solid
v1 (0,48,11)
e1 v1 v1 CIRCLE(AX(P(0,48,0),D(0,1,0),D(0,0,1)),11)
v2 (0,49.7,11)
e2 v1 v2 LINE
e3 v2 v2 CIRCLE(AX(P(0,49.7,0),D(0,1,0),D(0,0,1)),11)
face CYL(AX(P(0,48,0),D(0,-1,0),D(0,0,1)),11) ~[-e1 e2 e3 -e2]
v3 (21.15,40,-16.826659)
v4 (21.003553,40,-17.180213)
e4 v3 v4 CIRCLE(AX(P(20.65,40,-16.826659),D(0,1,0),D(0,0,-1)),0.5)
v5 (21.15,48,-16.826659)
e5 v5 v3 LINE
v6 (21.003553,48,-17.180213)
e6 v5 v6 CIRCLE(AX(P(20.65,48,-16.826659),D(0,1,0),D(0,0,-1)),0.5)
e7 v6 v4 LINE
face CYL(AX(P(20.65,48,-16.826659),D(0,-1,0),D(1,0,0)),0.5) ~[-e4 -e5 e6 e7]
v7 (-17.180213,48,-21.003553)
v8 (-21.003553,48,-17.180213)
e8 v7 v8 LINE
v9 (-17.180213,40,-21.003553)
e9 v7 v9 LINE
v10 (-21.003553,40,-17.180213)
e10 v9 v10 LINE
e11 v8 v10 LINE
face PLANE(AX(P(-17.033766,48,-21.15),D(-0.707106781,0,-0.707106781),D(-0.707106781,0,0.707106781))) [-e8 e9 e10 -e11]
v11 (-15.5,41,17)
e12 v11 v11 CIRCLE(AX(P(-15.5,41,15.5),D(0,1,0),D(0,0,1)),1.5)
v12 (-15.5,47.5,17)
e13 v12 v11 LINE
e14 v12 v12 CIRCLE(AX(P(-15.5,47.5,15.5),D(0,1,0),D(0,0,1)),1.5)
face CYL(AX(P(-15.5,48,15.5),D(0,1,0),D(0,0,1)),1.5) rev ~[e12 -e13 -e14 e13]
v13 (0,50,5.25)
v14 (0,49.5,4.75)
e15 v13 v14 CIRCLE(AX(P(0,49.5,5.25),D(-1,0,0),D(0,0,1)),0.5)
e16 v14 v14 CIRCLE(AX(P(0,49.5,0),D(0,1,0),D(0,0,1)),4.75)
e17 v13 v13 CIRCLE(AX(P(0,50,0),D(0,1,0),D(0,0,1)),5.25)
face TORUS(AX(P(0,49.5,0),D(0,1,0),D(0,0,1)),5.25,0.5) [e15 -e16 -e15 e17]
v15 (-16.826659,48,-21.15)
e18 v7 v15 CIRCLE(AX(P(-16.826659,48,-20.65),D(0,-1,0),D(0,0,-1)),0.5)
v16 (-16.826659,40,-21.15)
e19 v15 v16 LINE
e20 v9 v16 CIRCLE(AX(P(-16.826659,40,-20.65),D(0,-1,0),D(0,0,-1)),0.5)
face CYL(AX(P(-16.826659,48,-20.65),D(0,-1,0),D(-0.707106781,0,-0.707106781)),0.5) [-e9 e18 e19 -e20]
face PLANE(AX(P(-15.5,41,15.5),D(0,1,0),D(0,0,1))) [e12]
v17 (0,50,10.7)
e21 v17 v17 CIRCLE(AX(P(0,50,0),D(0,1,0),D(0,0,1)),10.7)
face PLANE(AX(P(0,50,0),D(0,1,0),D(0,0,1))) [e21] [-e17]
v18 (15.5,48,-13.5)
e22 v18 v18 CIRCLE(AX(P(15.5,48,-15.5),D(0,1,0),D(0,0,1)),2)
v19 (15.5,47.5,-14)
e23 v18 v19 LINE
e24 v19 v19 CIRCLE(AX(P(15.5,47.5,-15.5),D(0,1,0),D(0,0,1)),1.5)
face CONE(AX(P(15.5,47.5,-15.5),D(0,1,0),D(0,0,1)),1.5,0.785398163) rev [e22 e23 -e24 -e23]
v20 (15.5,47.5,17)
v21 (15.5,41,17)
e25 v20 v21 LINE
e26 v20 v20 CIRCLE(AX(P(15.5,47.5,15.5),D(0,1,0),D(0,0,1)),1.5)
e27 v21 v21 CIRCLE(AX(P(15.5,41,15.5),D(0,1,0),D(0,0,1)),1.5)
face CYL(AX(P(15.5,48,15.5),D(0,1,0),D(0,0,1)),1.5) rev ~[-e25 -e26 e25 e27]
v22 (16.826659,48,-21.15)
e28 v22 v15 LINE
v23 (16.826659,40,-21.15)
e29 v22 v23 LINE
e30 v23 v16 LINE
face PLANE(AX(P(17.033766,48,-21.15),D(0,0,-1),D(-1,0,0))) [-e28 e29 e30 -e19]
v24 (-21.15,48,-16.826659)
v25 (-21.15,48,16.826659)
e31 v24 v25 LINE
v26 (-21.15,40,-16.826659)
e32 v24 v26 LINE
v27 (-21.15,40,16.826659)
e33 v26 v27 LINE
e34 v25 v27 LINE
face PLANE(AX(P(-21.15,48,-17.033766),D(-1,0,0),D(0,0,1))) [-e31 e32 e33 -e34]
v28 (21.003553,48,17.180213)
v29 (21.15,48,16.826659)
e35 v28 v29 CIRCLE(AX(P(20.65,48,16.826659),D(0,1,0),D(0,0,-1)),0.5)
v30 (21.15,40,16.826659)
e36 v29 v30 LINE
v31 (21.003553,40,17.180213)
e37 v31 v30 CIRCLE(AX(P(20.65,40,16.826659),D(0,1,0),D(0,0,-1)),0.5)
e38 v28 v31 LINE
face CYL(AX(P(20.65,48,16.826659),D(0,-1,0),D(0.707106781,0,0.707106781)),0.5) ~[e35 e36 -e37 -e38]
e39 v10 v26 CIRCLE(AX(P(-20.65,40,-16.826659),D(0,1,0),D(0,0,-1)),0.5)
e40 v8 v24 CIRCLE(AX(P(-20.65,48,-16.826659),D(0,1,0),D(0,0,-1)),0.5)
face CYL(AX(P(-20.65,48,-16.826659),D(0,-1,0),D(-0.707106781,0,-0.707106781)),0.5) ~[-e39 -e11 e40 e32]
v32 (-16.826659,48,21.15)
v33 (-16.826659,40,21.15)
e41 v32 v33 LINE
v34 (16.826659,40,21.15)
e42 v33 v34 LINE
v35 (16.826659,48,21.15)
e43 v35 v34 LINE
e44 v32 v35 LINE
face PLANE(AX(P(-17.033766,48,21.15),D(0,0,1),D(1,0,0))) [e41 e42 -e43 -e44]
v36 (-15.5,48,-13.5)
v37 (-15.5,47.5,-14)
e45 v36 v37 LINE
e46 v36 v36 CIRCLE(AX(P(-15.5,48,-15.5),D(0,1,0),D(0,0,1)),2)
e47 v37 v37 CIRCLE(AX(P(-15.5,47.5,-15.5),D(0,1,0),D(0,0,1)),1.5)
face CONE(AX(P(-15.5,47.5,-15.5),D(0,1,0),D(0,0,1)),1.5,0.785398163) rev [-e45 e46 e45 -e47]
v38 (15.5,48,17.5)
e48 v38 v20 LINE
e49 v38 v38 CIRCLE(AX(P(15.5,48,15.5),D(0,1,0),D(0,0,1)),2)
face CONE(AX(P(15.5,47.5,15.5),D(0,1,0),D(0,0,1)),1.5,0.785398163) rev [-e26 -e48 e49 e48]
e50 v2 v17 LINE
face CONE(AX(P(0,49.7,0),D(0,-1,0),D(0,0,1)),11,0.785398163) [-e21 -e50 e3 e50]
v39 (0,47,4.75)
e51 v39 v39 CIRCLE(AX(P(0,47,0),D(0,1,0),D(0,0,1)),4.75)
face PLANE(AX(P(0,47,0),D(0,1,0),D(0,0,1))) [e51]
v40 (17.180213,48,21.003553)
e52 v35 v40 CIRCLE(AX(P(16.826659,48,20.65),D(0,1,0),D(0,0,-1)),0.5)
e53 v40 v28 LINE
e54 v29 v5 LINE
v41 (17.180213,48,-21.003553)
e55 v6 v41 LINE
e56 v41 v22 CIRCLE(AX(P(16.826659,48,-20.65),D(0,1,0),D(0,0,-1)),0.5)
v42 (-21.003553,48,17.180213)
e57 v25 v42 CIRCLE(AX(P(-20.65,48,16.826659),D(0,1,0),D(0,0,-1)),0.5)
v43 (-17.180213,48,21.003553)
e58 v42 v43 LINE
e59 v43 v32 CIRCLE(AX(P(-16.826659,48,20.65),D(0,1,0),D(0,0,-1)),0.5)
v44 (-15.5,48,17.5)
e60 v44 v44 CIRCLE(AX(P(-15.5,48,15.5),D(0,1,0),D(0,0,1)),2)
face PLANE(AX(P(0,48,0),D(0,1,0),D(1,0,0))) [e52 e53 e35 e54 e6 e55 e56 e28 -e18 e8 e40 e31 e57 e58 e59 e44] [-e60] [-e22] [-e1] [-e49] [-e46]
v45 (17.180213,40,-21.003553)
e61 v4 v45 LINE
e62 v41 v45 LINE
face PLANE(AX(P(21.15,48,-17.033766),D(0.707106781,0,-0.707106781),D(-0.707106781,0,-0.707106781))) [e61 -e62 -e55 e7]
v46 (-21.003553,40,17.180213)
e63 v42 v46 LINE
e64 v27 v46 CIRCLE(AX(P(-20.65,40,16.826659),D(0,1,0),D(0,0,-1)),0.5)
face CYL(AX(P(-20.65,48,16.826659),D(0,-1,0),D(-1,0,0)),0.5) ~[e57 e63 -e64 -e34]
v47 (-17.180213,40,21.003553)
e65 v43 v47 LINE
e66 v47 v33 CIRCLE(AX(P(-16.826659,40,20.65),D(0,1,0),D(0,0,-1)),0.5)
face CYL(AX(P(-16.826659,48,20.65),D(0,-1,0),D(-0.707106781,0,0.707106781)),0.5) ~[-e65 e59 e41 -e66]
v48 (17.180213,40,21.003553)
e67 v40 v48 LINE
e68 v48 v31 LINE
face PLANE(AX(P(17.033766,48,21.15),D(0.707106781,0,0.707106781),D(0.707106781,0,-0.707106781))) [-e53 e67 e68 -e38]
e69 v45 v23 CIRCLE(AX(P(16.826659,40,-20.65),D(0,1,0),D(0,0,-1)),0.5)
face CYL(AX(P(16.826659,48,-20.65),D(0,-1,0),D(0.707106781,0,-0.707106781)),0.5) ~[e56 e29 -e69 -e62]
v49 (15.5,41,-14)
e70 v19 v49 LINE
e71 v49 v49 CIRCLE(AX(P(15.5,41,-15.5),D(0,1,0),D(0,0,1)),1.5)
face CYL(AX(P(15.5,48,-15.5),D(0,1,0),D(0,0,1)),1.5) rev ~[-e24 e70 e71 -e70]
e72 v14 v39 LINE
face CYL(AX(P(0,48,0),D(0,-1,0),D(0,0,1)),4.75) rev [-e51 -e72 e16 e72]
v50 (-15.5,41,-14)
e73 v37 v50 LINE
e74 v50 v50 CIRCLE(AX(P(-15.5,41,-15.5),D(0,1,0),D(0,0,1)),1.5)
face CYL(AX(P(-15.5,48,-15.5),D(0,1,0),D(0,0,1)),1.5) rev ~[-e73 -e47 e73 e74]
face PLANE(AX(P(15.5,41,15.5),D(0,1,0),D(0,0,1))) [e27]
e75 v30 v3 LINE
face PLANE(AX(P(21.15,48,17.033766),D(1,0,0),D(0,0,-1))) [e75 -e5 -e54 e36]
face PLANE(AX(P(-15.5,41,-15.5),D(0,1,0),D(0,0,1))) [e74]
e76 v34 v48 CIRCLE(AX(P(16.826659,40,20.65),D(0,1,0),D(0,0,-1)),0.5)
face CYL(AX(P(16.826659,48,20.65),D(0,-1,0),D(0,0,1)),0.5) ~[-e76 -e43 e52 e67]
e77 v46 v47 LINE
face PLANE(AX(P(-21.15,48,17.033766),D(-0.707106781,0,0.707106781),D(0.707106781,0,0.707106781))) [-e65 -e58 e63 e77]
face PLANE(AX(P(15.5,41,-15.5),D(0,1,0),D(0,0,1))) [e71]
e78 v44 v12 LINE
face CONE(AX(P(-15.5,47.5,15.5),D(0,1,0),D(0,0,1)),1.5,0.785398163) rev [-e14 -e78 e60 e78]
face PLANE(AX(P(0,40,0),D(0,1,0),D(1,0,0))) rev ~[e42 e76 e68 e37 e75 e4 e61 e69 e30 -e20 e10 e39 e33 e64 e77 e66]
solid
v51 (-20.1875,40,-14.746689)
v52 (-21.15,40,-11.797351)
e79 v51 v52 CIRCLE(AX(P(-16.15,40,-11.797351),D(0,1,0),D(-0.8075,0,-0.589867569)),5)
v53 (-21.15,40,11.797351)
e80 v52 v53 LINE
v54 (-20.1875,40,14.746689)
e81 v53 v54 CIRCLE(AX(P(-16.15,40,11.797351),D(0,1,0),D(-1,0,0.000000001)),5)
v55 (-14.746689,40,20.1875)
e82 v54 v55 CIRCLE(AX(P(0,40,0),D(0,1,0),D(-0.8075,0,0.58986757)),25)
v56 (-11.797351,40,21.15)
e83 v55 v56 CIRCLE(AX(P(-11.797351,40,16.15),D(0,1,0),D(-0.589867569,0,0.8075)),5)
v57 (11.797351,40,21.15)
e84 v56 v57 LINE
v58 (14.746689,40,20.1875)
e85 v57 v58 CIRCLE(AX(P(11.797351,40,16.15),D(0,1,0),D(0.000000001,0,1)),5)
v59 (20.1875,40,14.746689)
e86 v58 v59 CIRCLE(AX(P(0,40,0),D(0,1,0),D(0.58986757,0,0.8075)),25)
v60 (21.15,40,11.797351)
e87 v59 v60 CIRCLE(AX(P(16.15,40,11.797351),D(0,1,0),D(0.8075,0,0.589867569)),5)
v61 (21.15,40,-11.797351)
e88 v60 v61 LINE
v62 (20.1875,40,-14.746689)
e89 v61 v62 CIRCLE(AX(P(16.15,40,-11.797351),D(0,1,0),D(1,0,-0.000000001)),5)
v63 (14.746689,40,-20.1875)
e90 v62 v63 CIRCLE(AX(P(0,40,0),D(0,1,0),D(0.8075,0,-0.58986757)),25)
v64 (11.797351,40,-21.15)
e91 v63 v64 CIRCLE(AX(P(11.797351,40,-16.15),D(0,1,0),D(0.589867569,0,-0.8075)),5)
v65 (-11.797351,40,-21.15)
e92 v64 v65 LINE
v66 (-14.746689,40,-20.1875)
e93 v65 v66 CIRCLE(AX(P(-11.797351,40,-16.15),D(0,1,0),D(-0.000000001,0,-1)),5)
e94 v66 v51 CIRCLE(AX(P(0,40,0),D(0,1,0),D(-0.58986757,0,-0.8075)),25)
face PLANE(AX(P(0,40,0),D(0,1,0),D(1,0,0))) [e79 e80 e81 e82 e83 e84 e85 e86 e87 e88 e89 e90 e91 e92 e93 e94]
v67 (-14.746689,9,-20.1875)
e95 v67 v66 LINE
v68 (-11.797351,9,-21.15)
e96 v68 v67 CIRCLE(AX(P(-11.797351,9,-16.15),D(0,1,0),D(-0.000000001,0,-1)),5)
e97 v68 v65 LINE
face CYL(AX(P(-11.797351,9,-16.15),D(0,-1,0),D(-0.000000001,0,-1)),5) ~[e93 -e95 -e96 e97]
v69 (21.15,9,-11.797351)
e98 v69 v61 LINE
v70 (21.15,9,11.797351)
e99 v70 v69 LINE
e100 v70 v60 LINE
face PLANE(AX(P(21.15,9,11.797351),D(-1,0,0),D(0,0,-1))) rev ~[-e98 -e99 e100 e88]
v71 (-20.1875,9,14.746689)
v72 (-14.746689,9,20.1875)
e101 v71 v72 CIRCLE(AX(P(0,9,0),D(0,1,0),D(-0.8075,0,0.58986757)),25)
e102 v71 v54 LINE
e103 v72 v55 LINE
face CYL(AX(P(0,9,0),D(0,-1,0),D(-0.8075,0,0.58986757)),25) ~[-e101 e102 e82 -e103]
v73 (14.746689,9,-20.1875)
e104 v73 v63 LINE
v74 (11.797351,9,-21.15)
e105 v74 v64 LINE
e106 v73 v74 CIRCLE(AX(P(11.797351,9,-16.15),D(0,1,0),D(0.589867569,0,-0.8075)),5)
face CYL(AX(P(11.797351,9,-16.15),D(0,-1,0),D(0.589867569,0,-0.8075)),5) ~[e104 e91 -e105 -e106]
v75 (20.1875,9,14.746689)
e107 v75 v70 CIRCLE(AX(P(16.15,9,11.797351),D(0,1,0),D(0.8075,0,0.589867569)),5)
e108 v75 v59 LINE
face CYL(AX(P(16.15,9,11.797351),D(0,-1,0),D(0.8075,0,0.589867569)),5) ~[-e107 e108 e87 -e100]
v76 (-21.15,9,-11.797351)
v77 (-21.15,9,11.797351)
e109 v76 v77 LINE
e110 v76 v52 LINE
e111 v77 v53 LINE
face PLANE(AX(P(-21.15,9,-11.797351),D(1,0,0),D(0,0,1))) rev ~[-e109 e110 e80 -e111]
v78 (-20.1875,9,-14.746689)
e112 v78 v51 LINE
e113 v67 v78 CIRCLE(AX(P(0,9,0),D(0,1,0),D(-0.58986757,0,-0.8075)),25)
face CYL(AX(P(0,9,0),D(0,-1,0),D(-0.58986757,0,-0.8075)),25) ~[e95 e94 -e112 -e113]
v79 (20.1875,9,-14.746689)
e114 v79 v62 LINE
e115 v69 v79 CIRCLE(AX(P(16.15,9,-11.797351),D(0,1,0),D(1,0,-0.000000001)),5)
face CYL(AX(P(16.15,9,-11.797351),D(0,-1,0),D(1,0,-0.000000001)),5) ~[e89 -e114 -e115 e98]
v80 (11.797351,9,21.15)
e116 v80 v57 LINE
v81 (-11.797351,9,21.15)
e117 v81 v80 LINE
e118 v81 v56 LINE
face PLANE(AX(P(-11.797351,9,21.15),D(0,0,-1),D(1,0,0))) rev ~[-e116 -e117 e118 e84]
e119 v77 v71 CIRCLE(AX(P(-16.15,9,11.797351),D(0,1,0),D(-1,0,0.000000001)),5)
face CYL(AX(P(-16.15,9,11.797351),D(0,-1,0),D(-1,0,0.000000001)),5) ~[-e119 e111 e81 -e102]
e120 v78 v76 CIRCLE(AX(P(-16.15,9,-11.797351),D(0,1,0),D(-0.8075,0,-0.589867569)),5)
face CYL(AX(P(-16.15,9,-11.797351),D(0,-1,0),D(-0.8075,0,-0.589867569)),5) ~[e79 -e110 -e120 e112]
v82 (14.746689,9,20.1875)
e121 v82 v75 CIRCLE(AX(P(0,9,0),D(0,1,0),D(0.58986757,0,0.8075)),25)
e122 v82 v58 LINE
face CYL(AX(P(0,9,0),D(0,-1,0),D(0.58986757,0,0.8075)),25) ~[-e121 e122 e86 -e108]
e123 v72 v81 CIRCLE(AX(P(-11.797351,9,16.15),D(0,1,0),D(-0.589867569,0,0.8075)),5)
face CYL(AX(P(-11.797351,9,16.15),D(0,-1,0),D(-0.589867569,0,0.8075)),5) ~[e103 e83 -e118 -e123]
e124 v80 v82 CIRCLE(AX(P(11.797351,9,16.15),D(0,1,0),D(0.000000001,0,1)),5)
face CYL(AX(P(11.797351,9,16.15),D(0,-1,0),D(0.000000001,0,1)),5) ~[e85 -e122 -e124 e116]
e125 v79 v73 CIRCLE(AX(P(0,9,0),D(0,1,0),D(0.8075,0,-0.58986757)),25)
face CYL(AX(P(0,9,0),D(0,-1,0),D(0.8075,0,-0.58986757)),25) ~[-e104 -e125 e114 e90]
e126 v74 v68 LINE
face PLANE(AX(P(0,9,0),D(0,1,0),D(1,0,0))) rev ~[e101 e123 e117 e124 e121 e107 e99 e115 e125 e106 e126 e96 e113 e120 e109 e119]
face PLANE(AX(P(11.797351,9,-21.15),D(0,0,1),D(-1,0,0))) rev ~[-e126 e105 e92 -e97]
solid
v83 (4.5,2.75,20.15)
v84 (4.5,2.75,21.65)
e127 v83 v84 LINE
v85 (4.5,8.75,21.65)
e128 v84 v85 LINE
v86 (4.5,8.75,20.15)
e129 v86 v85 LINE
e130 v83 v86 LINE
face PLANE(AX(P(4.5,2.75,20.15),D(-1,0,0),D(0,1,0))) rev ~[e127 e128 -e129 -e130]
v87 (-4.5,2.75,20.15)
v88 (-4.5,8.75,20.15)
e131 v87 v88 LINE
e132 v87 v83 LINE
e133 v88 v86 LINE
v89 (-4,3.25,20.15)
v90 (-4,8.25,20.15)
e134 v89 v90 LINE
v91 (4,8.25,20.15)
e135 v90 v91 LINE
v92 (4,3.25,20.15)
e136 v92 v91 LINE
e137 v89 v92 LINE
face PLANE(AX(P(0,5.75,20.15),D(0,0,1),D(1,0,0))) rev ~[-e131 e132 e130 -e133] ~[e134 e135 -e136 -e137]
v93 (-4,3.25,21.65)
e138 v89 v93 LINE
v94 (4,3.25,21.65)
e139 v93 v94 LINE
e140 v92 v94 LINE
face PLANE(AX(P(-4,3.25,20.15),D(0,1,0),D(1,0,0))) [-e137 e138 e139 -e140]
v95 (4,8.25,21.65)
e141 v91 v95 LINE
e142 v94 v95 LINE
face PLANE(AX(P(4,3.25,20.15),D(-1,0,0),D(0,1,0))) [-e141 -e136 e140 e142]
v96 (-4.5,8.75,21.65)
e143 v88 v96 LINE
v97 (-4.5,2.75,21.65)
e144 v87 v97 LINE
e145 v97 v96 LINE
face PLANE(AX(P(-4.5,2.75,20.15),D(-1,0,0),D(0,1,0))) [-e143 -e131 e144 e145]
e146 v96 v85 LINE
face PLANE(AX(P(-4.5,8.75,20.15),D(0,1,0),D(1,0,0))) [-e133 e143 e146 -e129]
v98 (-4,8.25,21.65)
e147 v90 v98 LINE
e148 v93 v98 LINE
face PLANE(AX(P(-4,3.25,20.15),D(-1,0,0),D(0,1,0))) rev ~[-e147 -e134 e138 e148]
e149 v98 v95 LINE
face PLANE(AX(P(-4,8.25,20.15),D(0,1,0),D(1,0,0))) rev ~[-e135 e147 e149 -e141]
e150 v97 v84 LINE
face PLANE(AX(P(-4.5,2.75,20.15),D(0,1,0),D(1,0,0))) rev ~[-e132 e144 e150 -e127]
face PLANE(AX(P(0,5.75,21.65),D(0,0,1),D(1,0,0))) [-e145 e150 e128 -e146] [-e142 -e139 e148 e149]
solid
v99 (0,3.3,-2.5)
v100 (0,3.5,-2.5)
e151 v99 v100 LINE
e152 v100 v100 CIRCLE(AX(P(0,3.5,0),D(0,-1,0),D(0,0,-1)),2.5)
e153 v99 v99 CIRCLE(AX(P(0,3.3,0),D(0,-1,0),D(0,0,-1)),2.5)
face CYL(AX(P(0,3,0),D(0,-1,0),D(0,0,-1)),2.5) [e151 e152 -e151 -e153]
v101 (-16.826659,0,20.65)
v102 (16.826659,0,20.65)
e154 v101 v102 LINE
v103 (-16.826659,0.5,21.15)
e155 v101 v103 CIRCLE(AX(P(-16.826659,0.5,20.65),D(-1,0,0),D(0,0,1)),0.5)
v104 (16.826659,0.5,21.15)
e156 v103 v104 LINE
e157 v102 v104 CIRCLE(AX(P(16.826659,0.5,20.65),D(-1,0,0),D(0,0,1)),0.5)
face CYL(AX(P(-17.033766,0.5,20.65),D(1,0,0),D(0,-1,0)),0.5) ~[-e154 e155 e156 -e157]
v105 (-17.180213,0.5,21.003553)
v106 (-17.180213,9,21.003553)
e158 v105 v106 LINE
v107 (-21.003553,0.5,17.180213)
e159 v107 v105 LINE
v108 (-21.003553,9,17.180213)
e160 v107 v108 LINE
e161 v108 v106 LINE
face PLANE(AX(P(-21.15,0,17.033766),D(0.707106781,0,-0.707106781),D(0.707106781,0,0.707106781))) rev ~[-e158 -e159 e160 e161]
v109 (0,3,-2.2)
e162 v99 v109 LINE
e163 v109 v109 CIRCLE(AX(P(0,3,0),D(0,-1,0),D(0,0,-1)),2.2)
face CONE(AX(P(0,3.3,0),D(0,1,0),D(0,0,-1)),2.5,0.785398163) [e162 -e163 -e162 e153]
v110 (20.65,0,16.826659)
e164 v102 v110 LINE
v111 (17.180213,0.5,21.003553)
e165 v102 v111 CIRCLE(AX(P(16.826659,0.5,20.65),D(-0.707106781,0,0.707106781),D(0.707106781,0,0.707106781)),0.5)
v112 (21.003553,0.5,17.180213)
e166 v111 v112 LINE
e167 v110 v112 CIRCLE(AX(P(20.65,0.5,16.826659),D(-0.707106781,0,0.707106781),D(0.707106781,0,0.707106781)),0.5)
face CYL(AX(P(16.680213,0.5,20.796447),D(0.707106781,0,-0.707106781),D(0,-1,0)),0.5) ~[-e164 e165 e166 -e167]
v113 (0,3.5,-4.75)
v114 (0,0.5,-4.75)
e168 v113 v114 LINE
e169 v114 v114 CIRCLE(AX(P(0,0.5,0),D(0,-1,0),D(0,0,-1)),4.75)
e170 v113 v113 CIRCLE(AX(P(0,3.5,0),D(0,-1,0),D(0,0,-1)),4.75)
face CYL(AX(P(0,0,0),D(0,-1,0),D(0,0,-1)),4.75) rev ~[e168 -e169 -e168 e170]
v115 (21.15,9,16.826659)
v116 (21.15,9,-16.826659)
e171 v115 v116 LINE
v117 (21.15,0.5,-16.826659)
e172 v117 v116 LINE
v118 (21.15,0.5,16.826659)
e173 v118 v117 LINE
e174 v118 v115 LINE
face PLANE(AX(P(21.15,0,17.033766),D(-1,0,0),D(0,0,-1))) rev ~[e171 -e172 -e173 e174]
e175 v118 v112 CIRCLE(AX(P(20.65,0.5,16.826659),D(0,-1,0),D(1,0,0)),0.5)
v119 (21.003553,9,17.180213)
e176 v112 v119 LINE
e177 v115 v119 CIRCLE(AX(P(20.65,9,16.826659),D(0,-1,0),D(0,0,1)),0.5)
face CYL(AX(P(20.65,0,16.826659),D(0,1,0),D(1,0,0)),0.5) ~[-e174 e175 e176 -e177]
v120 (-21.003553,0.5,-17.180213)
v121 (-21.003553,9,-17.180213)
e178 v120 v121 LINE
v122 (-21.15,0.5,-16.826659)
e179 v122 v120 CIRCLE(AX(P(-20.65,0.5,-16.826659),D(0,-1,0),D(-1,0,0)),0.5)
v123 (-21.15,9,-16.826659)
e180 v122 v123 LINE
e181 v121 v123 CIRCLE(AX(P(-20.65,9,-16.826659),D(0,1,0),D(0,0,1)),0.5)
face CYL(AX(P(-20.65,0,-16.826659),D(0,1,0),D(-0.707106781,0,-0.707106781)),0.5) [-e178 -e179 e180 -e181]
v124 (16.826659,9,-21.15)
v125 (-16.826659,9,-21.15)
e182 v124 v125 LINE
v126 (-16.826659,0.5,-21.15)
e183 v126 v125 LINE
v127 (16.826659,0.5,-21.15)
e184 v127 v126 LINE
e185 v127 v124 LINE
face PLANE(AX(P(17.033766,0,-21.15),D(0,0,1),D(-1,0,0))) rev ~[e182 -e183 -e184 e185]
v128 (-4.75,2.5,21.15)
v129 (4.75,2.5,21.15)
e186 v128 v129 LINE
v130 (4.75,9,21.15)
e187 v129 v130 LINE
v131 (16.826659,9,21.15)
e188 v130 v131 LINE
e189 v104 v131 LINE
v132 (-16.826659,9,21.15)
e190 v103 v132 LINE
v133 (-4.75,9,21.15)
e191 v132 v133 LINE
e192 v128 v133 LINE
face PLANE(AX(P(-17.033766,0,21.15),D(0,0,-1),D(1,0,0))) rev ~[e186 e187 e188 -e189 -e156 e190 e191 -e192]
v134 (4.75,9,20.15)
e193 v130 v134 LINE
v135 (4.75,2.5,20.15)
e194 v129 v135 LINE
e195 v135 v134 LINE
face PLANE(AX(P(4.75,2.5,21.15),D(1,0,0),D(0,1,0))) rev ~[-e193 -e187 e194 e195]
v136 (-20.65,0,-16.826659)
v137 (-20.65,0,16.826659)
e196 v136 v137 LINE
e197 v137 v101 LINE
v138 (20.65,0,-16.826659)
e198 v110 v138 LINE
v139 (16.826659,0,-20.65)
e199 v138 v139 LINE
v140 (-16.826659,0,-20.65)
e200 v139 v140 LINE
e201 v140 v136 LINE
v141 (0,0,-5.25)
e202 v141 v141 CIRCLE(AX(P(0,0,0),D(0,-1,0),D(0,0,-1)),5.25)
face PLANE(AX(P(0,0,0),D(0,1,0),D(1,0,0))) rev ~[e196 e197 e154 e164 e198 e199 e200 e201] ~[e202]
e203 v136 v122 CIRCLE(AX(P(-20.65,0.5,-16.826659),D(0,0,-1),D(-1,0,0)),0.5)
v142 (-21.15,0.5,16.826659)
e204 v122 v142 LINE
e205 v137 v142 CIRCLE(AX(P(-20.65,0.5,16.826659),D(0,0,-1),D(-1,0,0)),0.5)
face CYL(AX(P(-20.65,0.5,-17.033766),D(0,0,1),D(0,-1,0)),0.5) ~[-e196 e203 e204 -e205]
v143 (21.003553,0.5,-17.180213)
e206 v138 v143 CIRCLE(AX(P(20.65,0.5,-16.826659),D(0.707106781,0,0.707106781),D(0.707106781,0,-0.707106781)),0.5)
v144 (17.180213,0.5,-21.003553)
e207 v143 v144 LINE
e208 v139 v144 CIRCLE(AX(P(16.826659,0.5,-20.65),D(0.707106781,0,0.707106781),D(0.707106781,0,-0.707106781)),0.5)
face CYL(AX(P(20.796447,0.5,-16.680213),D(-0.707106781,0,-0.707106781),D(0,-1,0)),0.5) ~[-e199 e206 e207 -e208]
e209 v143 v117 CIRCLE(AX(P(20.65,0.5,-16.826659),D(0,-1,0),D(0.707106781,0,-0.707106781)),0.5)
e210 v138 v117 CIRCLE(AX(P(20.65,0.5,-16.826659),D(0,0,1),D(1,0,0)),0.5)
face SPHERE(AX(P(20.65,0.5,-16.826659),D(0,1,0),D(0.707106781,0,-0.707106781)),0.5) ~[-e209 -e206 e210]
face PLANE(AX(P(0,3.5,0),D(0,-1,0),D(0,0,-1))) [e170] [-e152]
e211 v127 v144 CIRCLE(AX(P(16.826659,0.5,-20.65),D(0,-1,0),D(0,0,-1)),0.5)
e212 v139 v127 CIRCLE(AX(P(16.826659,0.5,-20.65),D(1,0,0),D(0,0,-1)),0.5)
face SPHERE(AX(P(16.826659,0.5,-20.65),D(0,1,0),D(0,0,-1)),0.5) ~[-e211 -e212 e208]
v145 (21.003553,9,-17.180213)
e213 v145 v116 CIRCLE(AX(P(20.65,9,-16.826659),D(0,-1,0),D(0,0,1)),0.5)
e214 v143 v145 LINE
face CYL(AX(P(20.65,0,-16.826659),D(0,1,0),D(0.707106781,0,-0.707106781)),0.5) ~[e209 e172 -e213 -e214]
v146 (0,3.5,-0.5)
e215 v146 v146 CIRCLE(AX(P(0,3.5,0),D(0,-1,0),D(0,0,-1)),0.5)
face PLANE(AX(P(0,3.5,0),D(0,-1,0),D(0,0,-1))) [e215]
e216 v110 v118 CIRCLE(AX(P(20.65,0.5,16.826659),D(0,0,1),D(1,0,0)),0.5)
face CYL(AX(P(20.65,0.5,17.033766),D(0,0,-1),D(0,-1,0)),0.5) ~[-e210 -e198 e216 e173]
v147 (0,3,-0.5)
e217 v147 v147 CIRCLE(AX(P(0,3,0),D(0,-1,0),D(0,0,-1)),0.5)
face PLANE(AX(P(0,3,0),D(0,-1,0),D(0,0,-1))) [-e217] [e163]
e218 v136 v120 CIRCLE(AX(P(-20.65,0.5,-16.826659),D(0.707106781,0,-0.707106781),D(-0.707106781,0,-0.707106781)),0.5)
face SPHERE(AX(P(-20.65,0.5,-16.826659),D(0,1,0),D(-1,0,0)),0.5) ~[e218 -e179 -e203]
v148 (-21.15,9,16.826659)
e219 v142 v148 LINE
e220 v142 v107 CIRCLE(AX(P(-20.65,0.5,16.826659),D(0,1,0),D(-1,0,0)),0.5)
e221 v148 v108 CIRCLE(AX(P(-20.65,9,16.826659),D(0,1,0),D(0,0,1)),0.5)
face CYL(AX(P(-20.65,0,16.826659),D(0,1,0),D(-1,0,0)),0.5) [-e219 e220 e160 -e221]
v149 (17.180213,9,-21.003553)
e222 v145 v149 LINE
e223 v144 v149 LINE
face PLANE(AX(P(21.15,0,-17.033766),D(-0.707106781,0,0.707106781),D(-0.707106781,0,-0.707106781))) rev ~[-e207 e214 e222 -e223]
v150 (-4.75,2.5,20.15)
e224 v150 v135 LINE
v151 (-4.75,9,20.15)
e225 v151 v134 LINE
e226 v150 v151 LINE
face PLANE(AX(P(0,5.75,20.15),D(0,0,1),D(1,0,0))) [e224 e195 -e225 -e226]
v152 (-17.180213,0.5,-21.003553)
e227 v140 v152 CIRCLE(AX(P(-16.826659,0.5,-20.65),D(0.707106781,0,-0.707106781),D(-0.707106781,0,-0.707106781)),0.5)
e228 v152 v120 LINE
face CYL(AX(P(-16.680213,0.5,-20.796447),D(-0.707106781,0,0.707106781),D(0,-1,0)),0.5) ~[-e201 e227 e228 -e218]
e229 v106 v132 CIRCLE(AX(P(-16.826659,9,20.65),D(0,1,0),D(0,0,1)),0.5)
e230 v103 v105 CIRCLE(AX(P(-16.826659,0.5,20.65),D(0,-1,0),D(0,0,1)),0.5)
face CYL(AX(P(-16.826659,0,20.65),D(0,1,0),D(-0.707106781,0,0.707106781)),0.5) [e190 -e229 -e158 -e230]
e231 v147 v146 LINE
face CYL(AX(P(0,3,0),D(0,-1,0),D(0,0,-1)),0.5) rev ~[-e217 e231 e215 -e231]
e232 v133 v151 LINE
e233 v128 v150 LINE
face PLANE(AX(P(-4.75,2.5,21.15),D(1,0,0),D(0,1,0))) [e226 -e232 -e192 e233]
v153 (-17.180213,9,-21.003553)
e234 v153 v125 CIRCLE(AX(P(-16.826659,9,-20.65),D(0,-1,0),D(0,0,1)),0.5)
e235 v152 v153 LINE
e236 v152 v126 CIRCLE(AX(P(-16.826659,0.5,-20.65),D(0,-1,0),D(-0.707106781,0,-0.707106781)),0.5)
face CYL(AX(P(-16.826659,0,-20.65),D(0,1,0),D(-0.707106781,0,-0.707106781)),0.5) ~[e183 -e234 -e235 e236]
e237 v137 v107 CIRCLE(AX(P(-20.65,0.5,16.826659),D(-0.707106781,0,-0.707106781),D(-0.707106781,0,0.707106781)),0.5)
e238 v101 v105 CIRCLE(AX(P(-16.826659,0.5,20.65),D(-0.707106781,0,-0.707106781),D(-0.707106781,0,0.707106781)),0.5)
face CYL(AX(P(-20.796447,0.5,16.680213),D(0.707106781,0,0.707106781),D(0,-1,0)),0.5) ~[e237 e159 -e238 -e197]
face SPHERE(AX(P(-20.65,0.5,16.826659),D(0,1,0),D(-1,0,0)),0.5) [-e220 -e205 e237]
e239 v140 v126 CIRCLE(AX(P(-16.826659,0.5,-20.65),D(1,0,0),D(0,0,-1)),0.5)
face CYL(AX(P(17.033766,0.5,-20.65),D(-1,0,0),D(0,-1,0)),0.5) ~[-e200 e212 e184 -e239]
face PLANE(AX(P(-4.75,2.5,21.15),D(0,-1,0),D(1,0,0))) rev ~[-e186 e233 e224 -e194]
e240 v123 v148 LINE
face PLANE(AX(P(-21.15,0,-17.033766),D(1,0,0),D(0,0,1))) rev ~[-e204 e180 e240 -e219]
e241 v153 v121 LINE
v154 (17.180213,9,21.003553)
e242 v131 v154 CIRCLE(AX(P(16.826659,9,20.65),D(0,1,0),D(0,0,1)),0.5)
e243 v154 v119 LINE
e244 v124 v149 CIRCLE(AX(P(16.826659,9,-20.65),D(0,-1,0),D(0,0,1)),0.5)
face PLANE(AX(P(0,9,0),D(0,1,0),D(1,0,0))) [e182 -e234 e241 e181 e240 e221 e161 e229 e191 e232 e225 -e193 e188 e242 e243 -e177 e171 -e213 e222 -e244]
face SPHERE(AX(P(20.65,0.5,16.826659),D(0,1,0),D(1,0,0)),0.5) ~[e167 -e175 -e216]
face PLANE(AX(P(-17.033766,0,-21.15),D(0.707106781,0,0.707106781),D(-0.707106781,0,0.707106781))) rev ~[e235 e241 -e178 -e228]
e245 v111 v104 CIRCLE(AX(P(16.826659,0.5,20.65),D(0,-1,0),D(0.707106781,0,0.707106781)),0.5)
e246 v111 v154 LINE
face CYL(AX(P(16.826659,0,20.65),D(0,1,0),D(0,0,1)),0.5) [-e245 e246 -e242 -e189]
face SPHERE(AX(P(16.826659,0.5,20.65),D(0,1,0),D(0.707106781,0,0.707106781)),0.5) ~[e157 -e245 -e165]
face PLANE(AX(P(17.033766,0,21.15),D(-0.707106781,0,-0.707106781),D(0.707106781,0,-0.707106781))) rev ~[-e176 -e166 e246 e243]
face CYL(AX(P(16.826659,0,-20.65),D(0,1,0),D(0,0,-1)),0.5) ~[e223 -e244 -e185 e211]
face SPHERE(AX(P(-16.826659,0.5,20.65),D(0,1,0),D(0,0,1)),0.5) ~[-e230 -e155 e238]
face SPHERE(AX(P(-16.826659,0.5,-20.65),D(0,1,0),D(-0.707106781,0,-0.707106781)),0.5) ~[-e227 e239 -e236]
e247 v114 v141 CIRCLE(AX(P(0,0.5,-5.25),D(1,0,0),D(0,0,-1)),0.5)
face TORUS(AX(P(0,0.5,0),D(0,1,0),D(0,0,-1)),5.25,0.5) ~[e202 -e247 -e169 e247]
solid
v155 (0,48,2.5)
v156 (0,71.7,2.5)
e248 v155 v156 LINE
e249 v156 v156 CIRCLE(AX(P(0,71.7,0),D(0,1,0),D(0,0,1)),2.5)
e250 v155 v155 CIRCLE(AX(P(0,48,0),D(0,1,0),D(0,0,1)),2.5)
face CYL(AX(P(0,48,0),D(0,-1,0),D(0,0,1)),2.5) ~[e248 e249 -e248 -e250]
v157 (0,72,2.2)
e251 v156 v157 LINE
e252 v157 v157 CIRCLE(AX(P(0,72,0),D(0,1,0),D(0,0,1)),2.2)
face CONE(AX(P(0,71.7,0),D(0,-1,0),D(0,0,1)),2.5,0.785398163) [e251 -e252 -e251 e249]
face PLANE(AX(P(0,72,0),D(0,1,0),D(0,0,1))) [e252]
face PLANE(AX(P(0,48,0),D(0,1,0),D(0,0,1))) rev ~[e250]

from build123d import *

# Parameters (mm, degrees)
EXTRUDE_1_DEPTH     = 9
EXTRUDE_START       = 48
EXTRUDE_2_DEPTH     = 8
EXTRUDE_3_DEPTH     = 31
SKETCH_3_R          = 4.75
CUT_EXTRUDE_1_DEPTH = 3
SKETCH_4_R          = 4.75
SKETCH_4_R_2        = 2.5
CUT_EXTRUDE_2_DEPTH = 0.5
SKETCH_5_R          = 0.5
CUT_EXTRUDE_3_DEPTH = 0.5
CHAMFER_1_SIZE      = 0.3
FILLET_1_R          = 0.5
FILLET_2_R          = 0.5
SKETCH_6_R          = 11
SKETCH_6_R_2        = 4.75
EXTRUDE_4_DEPTH     = 2
CUT_EXTRUDE_START   = -1
SKETCH_7_R          = 4.75
CUT_EXTRUDE_4_DEPTH = 1
CHAMFER_2_SIZE      = 0.3
FILLET_3_R          = 0.5
SKETCH_8_R          = 2.5
EXTRUDE_5_DEPTH     = 24
CHAMFER_4_SIZE      = 0.3
SKETCH_10_W         = 9.5
SKETCH_10_H         = 6.5
CUT_EXTRUDE_6_DEPTH = 1
SKETCH_11_W         = 9
SKETCH_11_H         = 6
SKETCH_11_W_2       = 8
SKETCH_11_H_2       = 5
EXTRUDE_6_DEPTH     = 1.5
SKETCH_16_R         = 1.5
CUT_EXTRUDE_9_DEPTH = 7
CHAMFER_35_SIZE     = 0.5


with BuildPart() as part:
    # Эскиз1 → Бобышка-Вытянуть1 (new body)
    with BuildSketch(Plane(origin=(0, 0, 0), x_dir=(1, 0, 0), z_dir=(0, 1, 0))):
        Polygon((-17.033766184, 21.15), (-21.15, 17.033766184), (-21.15, -17.033766184), (-17.033766184, -21.15), (17.033766184, -21.15), (21.15, -17.033766184), (21.15, 17.033766184), (17.033766184, 21.15), align=None)
    extrude(amount=EXTRUDE_1_DEPTH)

    # Эскиз3 → Вырез-Вытянуть1 (cut)
    with BuildSketch(Plane.XZ):
        Circle(SKETCH_3_R)
    extrude(amount=-CUT_EXTRUDE_1_DEPTH, mode=Mode.SUBTRACT)

    # Эскиз4 → Вырез-Вытянуть2 (cut)
    with BuildSketch(Plane.XZ.offset(-3)):
        Circle(SKETCH_4_R)
        Circle(SKETCH_4_R_2, mode=Mode.SUBTRACT)
    extrude(amount=-CUT_EXTRUDE_2_DEPTH, mode=Mode.SUBTRACT)

    # Эскиз5 → Вырез-Вытянуть3 (cut)
    with BuildSketch(Plane.XZ.offset(-3)):
        Circle(SKETCH_5_R)
    extrude(amount=-CUT_EXTRUDE_3_DEPTH, mode=Mode.SUBTRACT)

    # Фаска1
    chamfer_1_edges = [part.edges().sort_by_distance(p)[0] for p in [
        (-2.5, 3, 0),
    ]]
    chamfer(chamfer_1_edges, length=CHAMFER_1_SIZE)

    # Скругление1
    fillet_1_edges = [part.edges().sort_by_distance(p)[0] for p in [
        (0, 0, 21.15),
        (19.091883092, 0, 19.091883092),
        (21.15, 0, 0),
        (19.091883092, 0, -19.091883092),
        (0, 0, -21.15),
        (-19.091883092, 0, -19.091883092),
        (-21.15, 0, 0),
        (-19.091883092, 0, 19.091883092),
        (-4.75, 0, 0),
        (21.15, 4.5, 17.033766184),
        (17.033766184, 4.5, 21.15),
        (-17.033766184, 4.5, 21.15),
        (-21.15, 4.5, 17.033766184),
        (-21.15, 4.5, -17.033766184),
        (-17.033766184, 4.5, -21.15),
        (17.033766184, 4.5, -21.15),
        (21.15, 4.5, -17.033766184),
    ]]
    fillet(fillet_1_edges, radius=FILLET_1_R)

    # Эскиз10 → Вырез-Вытянуть6 (cut)
    with BuildSketch(Plane.XY.offset(21.15)):
        with Locations((0, 5.75)):
            Rectangle(SKETCH_10_W, SKETCH_10_H)
    extrude(amount=-CUT_EXTRUDE_6_DEPTH, mode=Mode.SUBTRACT)


with BuildPart() as body_2:
    # Эскиз1<3> → Бобышка-Вытянуть2 (new body)
    with BuildSketch(Plane(origin=(0, 0, 0), x_dir=(1, 0, 0), z_dir=(0, 1, 0)).offset(EXTRUDE_START)):
        Polygon((-17.033766184, 21.15), (-21.15, 17.033766184), (-21.15, -17.033766184), (-17.033766184, -21.15), (17.033766184, -21.15), (21.15, -17.033766184), (21.15, 17.033766184), (17.033766184, 21.15), align=None)
    extrude(amount=-EXTRUDE_2_DEPTH)

    # Скругление2
    fillet_2_edges = [body_2.edges().sort_by_distance(p)[0] for p in [
        (21.15, 44, 17.033766184),
        (17.033766184, 44, 21.15),
        (-17.033766184, 44, 21.15),
        (-21.15, 44, 17.033766184),
        (-21.15, 44, -17.033766184),
        (-17.033766184, 44, -21.15),
        (17.033766184, 44, -21.15),
        (21.15, 44, -17.033766184),
    ]]
    fillet(fillet_2_edges, radius=FILLET_2_R)

    # Эскиз6 → Бобышка-Вытянуть4 (add)
    with BuildSketch(Plane(origin=(0, 48, 0), x_dir=(1, 0, 0), z_dir=(0, 1, 0))):
        Circle(SKETCH_6_R)
        Circle(SKETCH_6_R_2, mode=Mode.SUBTRACT)
    extrude(amount=EXTRUDE_4_DEPTH)

    # Эскиз7 → Вырез-Вытянуть4 (cut)
    with BuildSketch(Plane(origin=(0, 48, 0), x_dir=(1, 0, 0), z_dir=(0, 1, 0)).offset(CUT_EXTRUDE_START)):
        Circle(SKETCH_7_R)
    extrude(amount=CUT_EXTRUDE_4_DEPTH, mode=Mode.SUBTRACT)

    # Фаска2
    chamfer_2_edges = [body_2.edges().sort_by_distance(p)[0] for p in [
        (-11, 50, 0),
    ]]
    chamfer(chamfer_2_edges, length=CHAMFER_2_SIZE)

    # Скругление3
    fillet_3_edges = [body_2.edges().sort_by_distance(p)[0] for p in [
        (-4.75, 50, 0),
    ]]
    fillet(fillet_3_edges, radius=FILLET_3_R)

    # Эскиз16 → Вырез-Вытянуть9 (cut)
    with BuildSketch(Plane(origin=(0, 48, 0), x_dir=(1, 0, 0), z_dir=(0, 1, 0))):
        with Locations((-15.5, 15.5)):
            Circle(SKETCH_16_R)
        with Locations((15.5, 15.5)):
            Circle(SKETCH_16_R)
        with Locations((15.5, -15.5)):
            Circle(SKETCH_16_R)
        with Locations((-15.5, -15.5)):
            Circle(SKETCH_16_R)
    extrude(amount=-CUT_EXTRUDE_9_DEPTH, mode=Mode.SUBTRACT)

    # Фаска35
    chamfer_35_edges = [body_2.edges().sort_by_distance(p)[0] for p in [
        (-17, 48, 15.5),
        (14, 48, 15.5),
        (14, 48, -15.5),
        (-17, 48, -15.5),
    ]]
    chamfer(chamfer_35_edges, length=CHAMFER_35_SIZE)


with BuildPart() as body_3:
    # Эскиз2 → Бобышка-Вытянуть3 (new body)
    with BuildSketch(Plane(origin=(0, 9, 0), x_dir=(1, 0, 0), z_dir=(0, 1, 0))):
        with BuildLine():
            Line((-11.797351398, -21.15), (11.797351398, -21.15))
            ThreePointArc((11.797351398, -21.15), (13.348560603, -20.903288335), (14.746689247, -20.1875))
            ThreePointArc((14.746689247, -20.1875), (17.67766953, -17.67766953), (20.1875, -14.746689247))
            ThreePointArc((20.1875, -14.746689247), (20.903288335, -13.348560603), (21.15, -11.797351398))
            Line((21.15, -11.797351398), (21.15, 11.797351398))
            ThreePointArc((21.15, 11.797351398), (20.903288335, 13.348560603), (20.1875, 14.746689247))
            ThreePointArc((20.1875, 14.746689247), (17.67766953, 17.67766953), (14.746689247, 20.1875))
            ThreePointArc((14.746689247, 20.1875), (13.348560603, 20.903288335), (11.797351398, 21.15))
            Line((11.797351398, 21.15), (-11.797351398, 21.15))
            ThreePointArc((-11.797351398, 21.15), (-13.348560603, 20.903288335), (-14.746689247, 20.1875))
            ThreePointArc((-14.746689247, 20.1875), (-17.67766953, 17.67766953), (-20.1875, 14.746689247))
            ThreePointArc((-20.1875, 14.746689247), (-20.903288335, 13.348560603), (-21.15, 11.797351398))
            Line((-21.15, 11.797351398), (-21.15, -11.797351398))
            ThreePointArc((-21.15, -11.797351398), (-20.903288335, -13.348560603), (-20.1875, -14.746689247))
            ThreePointArc((-20.1875, -14.746689247), (-17.67766953, -17.67766953), (-14.746689247, -20.1875))
            ThreePointArc((-14.746689247, -20.1875), (-13.348560603, -20.903288335), (-11.797351398, -21.15))
        make_face()
    extrude(amount=EXTRUDE_3_DEPTH)


with BuildPart() as body_4:
    # Эскиз8 → Бобышка-Вытянуть5 (new body)
    with BuildSketch(Plane(origin=(0, 48, 0), x_dir=(1, 0, 0), z_dir=(0, 1, 0))):
        Circle(SKETCH_8_R)
    extrude(amount=EXTRUDE_5_DEPTH)

    # Фаска4
    chamfer_4_edges = [body_4.edges().sort_by_distance(p)[0] for p in [
        (-2.5, 72, 0),
    ]]
    chamfer(chamfer_4_edges, length=CHAMFER_4_SIZE)


with BuildPart() as body_5:
    # Эскиз11 → Бобышка-Вытянуть6 (new body)
    with BuildSketch(Plane.XY.offset(20.15)):
        with Locations((0, 5.75)):
            Rectangle(SKETCH_11_W, SKETCH_11_H)
        with Locations((0, 5.75)):
            Rectangle(SKETCH_11_W_2, SKETCH_11_H_2, mode=Mode.SUBTRACT)
    extrude(amount=EXTRUDE_6_DEPTH)


solid = Compound([part.part, body_2.part, body_3.part, body_4.part, body_5.part])
